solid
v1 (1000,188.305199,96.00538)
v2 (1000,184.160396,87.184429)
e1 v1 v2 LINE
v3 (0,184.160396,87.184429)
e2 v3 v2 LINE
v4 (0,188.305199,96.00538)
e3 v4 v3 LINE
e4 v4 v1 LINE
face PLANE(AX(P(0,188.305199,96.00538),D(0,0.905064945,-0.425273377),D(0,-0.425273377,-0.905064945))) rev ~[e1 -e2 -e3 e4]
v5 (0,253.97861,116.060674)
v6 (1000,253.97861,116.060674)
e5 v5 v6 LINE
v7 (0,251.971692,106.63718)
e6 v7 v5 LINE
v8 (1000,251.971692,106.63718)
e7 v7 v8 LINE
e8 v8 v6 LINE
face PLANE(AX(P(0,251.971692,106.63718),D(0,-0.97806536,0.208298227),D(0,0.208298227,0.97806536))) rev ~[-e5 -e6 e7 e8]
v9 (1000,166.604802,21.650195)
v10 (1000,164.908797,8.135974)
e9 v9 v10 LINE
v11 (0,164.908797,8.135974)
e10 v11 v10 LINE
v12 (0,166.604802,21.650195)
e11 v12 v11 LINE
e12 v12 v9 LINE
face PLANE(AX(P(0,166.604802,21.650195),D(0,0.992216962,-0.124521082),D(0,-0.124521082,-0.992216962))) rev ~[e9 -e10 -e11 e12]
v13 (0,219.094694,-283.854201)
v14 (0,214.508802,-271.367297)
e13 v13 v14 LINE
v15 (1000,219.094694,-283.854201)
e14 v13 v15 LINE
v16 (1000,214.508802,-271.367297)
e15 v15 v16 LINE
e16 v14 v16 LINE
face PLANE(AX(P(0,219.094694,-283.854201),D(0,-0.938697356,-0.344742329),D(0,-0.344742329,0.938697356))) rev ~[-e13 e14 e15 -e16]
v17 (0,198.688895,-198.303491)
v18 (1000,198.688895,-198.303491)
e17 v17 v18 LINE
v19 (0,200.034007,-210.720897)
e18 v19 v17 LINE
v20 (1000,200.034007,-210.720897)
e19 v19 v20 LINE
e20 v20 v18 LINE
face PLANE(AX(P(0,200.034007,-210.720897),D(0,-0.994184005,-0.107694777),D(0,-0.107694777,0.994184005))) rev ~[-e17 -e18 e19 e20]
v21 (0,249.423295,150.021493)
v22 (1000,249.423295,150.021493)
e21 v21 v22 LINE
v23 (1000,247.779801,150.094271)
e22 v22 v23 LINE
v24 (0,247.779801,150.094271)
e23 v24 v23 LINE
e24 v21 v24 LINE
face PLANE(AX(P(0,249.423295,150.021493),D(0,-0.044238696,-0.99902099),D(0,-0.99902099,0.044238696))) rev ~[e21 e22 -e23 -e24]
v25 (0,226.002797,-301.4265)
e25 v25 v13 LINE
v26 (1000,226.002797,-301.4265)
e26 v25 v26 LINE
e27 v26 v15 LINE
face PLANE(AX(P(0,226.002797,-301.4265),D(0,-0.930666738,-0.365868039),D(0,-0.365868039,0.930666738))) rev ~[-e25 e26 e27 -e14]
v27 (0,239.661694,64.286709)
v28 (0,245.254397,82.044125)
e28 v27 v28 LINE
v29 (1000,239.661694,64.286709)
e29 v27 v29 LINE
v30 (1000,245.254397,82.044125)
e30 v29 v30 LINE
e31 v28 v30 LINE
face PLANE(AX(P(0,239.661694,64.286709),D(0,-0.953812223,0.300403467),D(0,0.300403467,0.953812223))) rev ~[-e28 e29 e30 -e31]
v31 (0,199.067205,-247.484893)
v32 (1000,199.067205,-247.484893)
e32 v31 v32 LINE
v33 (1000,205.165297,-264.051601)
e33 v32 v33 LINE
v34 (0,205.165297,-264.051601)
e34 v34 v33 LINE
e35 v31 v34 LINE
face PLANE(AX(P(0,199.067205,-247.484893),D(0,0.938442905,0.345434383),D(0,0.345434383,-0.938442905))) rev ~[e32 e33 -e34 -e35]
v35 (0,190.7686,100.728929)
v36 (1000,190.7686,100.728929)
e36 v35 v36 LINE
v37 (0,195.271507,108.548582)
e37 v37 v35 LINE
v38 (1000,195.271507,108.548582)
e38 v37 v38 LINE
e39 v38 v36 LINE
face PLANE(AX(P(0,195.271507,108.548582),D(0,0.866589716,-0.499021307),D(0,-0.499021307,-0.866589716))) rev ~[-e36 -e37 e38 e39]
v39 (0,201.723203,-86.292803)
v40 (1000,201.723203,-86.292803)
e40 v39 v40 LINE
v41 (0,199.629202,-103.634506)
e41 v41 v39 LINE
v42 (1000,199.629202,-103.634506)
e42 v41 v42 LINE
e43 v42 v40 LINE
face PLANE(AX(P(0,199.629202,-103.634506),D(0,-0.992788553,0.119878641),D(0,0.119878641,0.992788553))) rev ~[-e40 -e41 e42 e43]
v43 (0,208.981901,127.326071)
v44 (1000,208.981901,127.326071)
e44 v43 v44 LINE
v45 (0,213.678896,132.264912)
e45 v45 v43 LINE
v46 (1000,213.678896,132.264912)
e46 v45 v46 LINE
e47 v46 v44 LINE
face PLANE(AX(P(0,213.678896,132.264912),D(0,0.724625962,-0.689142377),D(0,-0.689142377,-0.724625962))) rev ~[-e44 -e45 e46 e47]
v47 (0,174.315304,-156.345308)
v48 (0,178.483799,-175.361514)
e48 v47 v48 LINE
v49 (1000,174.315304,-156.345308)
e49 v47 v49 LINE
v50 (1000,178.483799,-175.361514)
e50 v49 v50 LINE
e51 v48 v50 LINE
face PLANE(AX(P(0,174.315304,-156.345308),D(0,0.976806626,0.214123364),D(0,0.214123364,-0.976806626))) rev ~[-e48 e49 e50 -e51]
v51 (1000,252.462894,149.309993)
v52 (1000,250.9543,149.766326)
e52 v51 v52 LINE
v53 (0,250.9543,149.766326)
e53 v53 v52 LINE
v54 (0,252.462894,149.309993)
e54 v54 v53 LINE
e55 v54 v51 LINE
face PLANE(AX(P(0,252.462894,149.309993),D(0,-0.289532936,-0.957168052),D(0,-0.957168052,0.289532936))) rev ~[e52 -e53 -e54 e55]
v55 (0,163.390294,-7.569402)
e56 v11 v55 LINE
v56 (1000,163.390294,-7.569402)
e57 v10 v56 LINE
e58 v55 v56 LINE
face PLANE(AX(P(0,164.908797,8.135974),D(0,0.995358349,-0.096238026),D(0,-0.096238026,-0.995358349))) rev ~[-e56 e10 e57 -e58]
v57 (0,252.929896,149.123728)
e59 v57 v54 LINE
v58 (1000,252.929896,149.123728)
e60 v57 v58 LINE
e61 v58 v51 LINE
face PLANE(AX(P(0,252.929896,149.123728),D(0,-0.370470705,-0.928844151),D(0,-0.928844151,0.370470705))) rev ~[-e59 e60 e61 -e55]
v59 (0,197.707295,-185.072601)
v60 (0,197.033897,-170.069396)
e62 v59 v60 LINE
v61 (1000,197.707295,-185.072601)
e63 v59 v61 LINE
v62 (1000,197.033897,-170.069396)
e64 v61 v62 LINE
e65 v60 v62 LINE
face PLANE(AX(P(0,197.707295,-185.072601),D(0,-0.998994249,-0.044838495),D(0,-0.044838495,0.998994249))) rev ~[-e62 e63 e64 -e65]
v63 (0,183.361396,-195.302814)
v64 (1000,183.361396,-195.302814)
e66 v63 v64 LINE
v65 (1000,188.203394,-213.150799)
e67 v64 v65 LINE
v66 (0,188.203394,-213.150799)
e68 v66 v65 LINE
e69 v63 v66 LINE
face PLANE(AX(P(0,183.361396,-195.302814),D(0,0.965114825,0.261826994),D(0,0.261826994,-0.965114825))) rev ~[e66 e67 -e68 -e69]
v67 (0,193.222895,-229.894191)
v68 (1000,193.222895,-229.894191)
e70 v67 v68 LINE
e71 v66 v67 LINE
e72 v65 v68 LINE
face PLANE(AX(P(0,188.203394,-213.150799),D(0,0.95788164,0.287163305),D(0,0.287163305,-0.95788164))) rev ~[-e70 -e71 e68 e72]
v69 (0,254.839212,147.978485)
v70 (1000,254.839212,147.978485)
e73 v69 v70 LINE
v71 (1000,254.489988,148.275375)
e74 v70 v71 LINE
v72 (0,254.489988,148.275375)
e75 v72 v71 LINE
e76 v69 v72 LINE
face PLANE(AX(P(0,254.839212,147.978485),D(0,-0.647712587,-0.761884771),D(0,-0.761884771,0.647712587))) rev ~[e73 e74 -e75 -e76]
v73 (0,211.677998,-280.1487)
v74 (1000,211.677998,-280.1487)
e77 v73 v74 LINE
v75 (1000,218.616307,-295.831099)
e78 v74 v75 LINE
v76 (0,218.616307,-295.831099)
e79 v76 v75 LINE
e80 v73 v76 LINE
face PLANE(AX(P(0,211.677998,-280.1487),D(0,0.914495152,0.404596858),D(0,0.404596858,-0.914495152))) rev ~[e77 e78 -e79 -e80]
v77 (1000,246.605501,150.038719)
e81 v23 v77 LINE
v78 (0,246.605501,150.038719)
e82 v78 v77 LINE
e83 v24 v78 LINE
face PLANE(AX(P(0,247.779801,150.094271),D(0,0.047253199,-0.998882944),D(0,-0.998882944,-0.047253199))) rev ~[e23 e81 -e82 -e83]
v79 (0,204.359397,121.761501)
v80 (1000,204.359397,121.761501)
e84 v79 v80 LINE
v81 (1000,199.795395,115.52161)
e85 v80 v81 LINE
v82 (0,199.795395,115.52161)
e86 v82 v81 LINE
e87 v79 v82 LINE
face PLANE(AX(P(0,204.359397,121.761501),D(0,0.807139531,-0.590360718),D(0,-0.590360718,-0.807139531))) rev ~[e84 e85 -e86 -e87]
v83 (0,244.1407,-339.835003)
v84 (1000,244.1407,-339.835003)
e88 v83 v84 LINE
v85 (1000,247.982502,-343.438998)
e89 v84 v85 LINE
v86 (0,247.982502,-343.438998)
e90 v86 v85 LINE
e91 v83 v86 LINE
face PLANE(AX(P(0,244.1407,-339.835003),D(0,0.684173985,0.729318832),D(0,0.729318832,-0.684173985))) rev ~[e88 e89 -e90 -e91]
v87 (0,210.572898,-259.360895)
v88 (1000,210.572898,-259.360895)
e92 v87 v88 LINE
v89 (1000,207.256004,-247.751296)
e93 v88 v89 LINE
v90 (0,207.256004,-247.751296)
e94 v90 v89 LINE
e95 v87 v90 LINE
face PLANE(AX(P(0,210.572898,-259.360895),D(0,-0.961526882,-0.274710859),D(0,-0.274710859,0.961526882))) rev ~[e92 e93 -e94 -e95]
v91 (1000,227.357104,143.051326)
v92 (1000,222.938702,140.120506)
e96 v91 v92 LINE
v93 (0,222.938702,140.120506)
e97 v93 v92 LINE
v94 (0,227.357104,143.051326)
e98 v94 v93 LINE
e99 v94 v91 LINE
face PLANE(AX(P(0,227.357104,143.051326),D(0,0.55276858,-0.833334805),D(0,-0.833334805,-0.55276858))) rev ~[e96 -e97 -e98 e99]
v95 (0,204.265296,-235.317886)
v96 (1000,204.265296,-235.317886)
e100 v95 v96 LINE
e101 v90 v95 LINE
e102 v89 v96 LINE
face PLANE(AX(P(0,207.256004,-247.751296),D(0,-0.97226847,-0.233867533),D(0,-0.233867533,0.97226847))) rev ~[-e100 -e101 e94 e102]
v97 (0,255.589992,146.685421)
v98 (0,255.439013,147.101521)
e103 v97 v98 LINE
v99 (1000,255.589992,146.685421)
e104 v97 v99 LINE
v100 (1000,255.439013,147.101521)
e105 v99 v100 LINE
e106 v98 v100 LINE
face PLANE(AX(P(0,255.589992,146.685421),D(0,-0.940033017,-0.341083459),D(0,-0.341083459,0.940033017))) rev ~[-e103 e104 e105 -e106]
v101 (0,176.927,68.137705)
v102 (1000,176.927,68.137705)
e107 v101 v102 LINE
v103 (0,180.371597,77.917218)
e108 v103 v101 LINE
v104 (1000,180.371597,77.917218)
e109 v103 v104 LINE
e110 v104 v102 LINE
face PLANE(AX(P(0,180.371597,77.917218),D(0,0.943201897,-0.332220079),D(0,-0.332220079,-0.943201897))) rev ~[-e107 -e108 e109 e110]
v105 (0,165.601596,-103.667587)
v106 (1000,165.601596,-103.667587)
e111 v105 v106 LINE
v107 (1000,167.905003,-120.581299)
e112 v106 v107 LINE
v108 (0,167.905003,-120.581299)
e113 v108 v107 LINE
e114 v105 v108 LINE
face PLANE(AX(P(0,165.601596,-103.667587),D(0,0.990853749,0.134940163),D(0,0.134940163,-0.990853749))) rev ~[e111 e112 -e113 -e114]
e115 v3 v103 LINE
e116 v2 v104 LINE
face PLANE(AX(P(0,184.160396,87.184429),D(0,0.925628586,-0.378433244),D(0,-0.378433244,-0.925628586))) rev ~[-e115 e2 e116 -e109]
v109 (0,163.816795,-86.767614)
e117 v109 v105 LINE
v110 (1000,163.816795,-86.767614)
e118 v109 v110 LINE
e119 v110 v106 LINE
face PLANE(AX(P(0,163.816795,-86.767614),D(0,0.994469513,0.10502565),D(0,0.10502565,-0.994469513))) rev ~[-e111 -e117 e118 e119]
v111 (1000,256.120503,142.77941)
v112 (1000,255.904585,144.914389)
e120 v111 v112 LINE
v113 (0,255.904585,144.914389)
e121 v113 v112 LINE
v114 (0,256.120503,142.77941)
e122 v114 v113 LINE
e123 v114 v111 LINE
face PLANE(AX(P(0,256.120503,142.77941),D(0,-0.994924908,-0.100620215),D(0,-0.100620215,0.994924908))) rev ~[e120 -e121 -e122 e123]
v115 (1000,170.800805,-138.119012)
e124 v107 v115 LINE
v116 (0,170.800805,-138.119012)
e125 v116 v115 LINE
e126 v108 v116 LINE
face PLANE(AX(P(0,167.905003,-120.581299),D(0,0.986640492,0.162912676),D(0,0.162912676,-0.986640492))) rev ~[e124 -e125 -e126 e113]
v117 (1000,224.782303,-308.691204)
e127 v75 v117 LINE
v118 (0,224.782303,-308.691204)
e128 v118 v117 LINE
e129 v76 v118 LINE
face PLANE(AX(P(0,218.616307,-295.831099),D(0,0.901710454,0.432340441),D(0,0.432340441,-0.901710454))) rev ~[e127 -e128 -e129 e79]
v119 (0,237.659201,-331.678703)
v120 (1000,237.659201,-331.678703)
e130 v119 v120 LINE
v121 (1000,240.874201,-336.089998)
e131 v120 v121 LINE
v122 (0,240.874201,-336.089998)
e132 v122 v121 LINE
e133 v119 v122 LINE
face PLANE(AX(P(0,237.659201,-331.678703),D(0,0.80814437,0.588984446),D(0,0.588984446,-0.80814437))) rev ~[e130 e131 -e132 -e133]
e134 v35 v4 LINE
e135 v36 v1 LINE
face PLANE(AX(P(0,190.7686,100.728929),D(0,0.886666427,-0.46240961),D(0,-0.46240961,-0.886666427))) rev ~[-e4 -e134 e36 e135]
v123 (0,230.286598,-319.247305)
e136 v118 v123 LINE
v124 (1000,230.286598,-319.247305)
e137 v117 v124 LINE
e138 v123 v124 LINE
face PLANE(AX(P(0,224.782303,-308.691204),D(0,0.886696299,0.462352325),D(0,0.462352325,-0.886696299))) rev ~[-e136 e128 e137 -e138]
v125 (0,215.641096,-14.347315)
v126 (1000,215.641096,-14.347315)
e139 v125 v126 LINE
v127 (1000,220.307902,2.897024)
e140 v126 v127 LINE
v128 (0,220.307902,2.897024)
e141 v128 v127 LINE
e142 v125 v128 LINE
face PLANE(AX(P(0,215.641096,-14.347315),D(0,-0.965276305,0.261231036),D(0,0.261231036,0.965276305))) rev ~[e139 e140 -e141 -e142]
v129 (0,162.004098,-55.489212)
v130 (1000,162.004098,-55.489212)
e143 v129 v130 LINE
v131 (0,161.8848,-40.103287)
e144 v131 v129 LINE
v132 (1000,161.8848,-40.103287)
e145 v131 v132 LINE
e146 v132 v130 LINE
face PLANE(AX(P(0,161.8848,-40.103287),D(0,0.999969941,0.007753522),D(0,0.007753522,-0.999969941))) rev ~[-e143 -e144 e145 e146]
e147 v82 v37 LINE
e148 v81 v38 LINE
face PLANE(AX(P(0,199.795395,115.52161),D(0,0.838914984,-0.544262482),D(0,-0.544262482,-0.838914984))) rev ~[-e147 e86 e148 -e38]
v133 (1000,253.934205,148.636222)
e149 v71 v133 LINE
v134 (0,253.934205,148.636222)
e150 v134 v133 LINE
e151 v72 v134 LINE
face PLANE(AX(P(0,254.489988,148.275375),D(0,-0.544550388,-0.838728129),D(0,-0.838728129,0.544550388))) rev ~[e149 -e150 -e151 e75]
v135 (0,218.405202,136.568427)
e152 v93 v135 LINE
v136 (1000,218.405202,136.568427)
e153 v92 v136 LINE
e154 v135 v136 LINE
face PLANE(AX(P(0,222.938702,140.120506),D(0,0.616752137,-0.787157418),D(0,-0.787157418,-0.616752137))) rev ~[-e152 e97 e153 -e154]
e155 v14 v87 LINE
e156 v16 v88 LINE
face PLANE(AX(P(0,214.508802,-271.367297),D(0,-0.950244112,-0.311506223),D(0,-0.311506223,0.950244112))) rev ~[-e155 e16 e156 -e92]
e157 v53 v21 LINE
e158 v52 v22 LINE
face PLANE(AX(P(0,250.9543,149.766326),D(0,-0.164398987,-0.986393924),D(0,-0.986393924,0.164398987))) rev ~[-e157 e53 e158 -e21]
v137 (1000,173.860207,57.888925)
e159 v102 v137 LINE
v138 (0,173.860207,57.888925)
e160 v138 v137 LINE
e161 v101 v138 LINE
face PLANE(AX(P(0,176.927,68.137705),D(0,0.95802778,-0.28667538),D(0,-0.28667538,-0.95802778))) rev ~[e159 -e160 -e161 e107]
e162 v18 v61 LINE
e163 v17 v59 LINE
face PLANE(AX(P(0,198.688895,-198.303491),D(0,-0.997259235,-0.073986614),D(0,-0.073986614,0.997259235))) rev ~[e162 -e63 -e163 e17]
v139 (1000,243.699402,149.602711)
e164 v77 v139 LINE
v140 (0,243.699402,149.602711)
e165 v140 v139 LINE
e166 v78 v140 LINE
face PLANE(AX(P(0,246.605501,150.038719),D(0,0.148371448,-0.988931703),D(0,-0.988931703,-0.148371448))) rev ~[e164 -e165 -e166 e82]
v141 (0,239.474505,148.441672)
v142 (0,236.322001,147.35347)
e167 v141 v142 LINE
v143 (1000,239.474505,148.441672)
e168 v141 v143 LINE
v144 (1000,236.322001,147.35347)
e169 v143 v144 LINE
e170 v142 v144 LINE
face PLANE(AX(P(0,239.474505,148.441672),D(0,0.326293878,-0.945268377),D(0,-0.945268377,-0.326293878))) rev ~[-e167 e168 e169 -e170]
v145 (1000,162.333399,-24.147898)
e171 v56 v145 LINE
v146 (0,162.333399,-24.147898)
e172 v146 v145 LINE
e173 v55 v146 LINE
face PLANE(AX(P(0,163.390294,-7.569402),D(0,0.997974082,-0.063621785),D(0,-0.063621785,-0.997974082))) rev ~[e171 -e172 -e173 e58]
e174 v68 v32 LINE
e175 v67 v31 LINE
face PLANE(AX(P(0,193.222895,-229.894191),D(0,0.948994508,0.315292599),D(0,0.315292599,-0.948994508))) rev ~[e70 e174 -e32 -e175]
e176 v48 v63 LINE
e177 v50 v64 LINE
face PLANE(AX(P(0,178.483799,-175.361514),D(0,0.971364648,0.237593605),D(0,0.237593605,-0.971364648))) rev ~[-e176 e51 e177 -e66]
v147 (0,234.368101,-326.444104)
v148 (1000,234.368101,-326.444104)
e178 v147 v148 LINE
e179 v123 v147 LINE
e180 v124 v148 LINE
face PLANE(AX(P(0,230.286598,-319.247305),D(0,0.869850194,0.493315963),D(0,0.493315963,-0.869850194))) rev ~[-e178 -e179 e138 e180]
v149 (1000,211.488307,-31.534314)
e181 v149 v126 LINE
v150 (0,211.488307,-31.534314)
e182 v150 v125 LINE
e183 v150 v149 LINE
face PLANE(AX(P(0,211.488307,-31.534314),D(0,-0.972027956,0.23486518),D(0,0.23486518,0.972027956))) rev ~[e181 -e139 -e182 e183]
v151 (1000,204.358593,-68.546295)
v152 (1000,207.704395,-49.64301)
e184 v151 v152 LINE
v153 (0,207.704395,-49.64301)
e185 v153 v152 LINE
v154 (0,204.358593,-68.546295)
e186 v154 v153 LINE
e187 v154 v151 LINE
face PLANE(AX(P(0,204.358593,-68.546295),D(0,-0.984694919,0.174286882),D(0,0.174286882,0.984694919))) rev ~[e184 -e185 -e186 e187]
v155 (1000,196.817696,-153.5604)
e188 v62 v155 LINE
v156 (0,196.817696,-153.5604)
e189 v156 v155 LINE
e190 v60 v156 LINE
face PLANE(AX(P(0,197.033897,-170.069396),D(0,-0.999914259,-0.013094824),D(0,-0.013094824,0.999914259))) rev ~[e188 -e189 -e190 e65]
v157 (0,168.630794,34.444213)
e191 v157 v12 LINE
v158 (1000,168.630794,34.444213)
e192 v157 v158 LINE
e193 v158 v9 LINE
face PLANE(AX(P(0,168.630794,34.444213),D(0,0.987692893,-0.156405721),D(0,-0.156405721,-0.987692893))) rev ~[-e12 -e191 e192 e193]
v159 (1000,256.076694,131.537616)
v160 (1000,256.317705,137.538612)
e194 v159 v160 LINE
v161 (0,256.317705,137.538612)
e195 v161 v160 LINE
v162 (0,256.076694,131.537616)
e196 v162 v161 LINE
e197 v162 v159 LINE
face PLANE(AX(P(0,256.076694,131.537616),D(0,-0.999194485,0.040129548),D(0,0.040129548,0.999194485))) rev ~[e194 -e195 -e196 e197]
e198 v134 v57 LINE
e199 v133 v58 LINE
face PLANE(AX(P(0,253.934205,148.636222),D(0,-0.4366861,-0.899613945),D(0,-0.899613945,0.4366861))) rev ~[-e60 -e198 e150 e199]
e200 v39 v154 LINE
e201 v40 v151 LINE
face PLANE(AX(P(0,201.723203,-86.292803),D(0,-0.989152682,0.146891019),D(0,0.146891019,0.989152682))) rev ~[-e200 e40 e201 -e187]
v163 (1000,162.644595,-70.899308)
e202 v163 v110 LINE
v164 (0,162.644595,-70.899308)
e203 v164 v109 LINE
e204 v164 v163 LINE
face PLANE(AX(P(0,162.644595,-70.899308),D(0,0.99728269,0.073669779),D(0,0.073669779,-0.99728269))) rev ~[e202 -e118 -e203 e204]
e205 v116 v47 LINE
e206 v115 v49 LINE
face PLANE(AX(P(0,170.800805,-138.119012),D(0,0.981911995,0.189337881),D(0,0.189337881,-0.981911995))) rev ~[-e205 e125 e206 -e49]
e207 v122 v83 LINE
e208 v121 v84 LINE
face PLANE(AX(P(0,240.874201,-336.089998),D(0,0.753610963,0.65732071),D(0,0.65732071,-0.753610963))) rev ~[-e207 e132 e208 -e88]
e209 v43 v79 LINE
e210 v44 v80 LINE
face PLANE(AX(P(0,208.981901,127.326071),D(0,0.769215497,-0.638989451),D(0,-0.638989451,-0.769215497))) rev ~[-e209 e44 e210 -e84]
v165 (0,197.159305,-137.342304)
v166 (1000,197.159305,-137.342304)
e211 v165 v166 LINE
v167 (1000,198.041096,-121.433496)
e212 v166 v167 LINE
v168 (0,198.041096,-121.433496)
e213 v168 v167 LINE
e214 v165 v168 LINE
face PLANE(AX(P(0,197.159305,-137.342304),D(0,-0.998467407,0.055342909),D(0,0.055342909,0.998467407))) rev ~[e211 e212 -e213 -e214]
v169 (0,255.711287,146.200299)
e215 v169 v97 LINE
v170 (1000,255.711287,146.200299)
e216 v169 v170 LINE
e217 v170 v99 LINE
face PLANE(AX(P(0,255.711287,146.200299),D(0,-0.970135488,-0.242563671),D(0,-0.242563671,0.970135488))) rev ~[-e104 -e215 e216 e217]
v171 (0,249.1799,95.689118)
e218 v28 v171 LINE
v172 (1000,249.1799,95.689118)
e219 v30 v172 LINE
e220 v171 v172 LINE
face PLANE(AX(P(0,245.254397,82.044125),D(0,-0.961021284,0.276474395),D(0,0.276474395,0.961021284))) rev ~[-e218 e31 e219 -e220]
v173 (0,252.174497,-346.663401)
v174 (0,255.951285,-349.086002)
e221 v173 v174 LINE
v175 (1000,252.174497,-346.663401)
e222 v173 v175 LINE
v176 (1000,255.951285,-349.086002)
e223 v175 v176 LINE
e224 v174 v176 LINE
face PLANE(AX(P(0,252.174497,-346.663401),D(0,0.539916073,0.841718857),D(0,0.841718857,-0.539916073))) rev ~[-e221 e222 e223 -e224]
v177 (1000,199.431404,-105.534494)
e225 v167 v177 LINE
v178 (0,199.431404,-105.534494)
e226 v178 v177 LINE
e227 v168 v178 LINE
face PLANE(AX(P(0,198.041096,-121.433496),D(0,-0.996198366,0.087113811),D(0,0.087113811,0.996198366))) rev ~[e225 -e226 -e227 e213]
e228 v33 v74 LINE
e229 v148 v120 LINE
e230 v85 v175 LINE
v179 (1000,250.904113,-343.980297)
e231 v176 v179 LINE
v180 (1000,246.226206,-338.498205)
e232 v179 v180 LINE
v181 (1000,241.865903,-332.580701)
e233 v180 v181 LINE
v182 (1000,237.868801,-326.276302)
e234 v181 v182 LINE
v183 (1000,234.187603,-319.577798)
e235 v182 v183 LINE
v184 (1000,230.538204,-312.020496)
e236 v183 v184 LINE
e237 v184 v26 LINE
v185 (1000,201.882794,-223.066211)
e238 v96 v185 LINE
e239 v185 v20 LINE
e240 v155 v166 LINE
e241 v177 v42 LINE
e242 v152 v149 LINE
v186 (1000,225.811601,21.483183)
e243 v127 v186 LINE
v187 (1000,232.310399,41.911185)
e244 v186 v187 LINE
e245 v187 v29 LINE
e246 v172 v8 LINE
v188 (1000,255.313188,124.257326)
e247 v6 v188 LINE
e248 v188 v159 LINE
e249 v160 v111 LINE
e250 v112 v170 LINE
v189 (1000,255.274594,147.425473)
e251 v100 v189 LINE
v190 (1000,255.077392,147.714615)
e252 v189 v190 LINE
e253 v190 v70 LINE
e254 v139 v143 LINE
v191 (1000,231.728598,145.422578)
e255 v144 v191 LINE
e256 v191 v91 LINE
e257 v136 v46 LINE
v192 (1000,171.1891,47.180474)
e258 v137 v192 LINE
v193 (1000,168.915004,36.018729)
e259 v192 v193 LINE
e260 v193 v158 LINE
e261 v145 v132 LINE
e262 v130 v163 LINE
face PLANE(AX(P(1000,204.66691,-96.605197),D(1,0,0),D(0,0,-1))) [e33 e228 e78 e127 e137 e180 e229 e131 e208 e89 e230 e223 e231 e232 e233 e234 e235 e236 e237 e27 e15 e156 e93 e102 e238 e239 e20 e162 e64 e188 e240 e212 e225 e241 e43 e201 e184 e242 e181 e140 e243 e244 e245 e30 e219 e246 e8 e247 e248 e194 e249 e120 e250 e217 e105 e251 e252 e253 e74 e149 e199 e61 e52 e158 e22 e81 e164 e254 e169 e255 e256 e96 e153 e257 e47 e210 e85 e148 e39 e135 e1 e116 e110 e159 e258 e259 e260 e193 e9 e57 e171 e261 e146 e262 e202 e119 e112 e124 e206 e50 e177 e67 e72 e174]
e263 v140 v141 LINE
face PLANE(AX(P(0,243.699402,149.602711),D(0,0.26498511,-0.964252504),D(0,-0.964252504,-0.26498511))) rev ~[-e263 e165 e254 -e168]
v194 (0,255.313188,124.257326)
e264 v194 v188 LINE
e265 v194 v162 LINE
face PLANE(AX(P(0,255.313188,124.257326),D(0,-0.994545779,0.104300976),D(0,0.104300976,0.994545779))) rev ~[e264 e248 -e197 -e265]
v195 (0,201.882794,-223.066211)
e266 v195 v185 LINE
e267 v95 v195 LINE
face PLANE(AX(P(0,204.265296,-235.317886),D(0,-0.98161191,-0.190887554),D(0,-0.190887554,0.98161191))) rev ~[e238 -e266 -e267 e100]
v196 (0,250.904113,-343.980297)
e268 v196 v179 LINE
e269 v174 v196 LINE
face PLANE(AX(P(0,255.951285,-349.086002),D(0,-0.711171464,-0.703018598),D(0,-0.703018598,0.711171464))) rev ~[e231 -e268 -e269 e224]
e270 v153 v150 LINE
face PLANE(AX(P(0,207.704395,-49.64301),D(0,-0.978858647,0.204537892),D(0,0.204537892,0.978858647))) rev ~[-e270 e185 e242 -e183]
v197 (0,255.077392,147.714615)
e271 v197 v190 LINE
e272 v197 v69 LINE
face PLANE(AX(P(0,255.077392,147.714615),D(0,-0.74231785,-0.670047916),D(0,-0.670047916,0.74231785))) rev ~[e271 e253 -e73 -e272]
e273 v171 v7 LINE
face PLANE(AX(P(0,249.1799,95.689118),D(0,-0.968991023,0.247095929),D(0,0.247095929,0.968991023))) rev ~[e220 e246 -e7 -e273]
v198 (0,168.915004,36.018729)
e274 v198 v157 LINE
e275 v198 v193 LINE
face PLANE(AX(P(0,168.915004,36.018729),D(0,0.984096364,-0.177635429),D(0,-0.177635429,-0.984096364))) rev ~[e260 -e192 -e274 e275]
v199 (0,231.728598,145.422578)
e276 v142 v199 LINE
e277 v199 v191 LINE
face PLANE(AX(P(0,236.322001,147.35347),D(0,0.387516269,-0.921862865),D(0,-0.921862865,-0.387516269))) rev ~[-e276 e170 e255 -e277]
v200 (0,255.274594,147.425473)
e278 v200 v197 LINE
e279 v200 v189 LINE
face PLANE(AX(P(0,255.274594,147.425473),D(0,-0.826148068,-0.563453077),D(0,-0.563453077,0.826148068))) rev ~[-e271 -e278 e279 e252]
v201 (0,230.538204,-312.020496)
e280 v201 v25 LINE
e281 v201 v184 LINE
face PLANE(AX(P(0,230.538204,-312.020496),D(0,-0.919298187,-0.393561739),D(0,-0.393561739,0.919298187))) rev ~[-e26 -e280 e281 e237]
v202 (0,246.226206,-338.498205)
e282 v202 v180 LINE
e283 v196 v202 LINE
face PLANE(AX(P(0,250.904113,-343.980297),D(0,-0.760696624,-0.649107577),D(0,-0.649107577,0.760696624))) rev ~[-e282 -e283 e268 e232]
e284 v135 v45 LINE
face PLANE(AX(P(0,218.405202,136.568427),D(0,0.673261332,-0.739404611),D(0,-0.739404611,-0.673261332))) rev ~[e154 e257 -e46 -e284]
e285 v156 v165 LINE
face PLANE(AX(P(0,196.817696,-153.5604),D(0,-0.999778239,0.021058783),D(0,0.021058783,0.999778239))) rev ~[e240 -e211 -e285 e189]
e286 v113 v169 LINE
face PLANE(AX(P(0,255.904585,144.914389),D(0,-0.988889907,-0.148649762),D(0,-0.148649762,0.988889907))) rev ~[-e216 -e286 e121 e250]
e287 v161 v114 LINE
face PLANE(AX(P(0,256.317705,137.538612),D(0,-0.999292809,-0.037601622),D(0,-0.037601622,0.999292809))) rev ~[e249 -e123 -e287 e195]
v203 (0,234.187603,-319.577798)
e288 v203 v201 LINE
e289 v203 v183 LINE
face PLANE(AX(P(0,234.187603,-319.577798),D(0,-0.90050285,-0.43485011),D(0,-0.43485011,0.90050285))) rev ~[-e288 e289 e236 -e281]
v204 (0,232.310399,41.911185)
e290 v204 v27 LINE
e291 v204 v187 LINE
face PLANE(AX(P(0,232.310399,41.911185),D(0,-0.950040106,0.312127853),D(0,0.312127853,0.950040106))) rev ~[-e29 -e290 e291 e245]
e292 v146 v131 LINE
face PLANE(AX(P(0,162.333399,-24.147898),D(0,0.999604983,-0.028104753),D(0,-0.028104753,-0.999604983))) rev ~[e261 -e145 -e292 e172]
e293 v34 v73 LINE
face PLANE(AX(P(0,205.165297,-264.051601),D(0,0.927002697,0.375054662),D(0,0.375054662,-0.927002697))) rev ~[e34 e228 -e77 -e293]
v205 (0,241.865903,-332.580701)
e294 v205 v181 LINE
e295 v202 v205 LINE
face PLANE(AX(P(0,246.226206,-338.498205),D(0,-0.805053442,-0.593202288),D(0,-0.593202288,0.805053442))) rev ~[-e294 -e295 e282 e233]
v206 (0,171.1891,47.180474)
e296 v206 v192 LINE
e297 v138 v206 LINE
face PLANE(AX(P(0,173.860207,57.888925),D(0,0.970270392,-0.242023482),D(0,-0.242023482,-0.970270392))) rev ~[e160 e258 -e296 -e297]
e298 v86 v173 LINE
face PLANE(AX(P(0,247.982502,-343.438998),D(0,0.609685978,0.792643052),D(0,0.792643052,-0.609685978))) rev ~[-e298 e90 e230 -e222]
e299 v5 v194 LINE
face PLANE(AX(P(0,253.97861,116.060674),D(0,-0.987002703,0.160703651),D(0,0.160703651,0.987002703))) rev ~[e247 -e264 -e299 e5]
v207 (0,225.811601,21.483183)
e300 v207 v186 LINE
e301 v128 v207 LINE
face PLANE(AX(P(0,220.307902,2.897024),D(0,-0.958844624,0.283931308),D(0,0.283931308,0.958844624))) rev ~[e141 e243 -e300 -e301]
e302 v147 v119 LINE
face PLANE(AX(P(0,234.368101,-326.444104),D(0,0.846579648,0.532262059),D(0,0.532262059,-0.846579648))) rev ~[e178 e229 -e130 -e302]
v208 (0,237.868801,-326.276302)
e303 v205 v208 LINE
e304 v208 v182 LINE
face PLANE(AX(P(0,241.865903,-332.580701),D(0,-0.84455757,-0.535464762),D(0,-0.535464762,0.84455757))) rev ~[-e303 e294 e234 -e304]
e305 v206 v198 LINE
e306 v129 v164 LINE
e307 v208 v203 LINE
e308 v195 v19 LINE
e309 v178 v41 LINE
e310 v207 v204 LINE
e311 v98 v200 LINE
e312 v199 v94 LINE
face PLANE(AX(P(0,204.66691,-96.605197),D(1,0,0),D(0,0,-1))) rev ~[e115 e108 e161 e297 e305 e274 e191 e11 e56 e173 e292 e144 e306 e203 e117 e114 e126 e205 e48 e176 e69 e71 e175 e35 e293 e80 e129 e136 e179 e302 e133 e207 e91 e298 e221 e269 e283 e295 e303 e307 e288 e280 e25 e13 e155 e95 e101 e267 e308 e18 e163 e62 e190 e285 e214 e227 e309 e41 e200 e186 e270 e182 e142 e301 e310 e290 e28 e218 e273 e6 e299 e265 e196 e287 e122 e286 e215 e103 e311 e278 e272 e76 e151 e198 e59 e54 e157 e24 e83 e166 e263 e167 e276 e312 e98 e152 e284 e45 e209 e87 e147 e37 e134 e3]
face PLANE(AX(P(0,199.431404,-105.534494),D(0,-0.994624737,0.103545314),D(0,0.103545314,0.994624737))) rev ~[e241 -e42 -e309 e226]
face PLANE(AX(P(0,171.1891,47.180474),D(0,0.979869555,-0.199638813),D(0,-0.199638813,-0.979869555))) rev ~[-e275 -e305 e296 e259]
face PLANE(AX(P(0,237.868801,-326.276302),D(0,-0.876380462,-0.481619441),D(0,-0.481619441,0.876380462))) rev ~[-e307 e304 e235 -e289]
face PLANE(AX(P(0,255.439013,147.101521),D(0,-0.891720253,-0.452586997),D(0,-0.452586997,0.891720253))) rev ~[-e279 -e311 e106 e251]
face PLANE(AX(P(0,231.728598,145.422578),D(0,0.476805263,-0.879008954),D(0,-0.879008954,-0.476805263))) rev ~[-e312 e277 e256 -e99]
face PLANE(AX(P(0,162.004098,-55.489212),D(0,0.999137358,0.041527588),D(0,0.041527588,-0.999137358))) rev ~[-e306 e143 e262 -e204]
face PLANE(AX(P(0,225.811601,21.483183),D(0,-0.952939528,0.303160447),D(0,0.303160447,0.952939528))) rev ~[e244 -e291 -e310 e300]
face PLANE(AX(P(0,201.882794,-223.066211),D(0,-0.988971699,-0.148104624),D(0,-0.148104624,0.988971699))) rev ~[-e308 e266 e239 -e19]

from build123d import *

# Parameters (mm, degrees)
BOSS_EXTRUDE3_DEPTH = 1000


with BuildPart() as part:
    # Sketch1 → Boss-Extrude3 (new body)
    with BuildSketch(Plane(origin=(0, 0, -500), x_dir=(0, 0, -1), z_dir=(1, 0, 0))):
        Polygon((-642.779409885, 256.120502949), (-644.914388657, 255.904585123), (-646.200299263, 255.71128726), (-646.685421467, 255.589991808), (-647.101521492, 255.439013243), (-647.425472736, 255.27459383), (-647.714614868, 255.077391863), (-647.978484631, 254.839211702), (-648.275375366, 254.489988089), (-648.636221886, 253.934204578), (-649.123728275, 252.929896116), (-649.30999279, 252.462893724), (-649.766325951, 250.954300165), (-650.021493435, 249.423295259), (-650.094270706, 247.779801488), (-650.038719177, 246.605500579), (-649.602711201, 243.699401617), (-648.441672325, 239.474505186), (-647.353470325, 236.322000623), (-645.422577858, 231.728598475), (-643.051326275, 227.357104421), (-640.120506287, 222.93870151), (-636.568427086, 218.405202031), (-632.264912128, 213.678896427), (-627.326071262, 208.981901407), (-621.761500835, 204.359397292), (-615.521609783, 199.795395136), (-608.5485816, 195.271506906), (-600.728929043, 190.76859951), (-596.005380154, 188.305199146), (-587.184429169, 184.160396457), (-577.917218208, 180.371597409), (-568.137705326, 176.927000284), (-557.888925076, 173.8602072), (-547.180473804, 171.18909955), (-536.01872921, 168.915003538), (-534.444212914, 168.630793691), (-521.650195122, 166.604802012), (-508.135974407, 164.908796549), (-492.430597544, 163.390293717), (-475.852102041, 162.333399057), (-459.896713495, 161.8847996), (-444.510787725, 162.004098296), (-429.100692272, 162.644594908), (-413.232386112, 163.816794753), (-396.332412958, 165.601596236), (-379.418700933, 167.905002832), (-361.880987883, 170.800805092), (-343.654692173, 174.315303564), (-324.638485909, 178.4837991), (-304.697185755, 183.361396194), (-286.849200726, 188.203394413), (-270.105808973, 193.222895265), (-252.515107393, 199.067205191), (-235.948398709, 205.165296793), (-219.85130012, 211.677998304), (-204.168900847, 218.616306782), (-191.308796406, 224.782302976), (-180.752694607, 230.286598206), (-173.555895686, 234.368100762), (-168.321296573, 237.659201026), (-163.910001516, 240.874201059), (-160.164996982, 244.140699506), (-156.561002135, 247.982501984), (-153.336599469, 252.174496651), (-150.913998485, 255.951285362), (-156.019702554, 250.904113054), (-161.501795053, 246.226206422), (-167.419299483, 241.865903139), (-173.723697662, 237.868800759), (-180.422201753, 234.187602997), (-187.979504466, 230.538204312), (-198.573499918, 226.002797484), (-216.145798564, 219.094693661), (-228.632703424, 214.508801699), (-240.639105439, 210.572898388), (-252.248704433, 207.256004214), (-264.682114124, 204.265296459), (-276.933789253, 201.882794499), (-289.279103279, 200.03400743), (-301.696509123, 198.68889451), (-314.927399158, 197.707295418), (-329.930603504, 197.033897042), (-346.439599991, 196.817696095), (-362.657696009, 197.159305215), (-378.566503525, 198.04109633), (-394.465506077, 199.431404471), (-396.365493536, 199.629202485), (-413.707196712, 201.723203063), (-431.453704834, 204.358592629), (-450.356990099, 207.704395056), (-468.465685844, 211.488306522), (-485.652685165, 215.641096234), (-502.897024155, 220.307901502), (-521.483182907, 225.811600685), (-541.911184788, 232.310399413), (-564.286708832, 239.661693573), (-582.044124603, 245.254397392), (-595.689117908, 249.179899693), (-606.637179852, 251.971691847), (-616.060674191, 253.978610039), (-624.257326126, 255.313187838), (-631.537616253, 256.076693535), (-637.538611889, 256.317704916), align=None)
    extrude(amount=BOSS_EXTRUDE3_DEPTH)


solid = part.part
